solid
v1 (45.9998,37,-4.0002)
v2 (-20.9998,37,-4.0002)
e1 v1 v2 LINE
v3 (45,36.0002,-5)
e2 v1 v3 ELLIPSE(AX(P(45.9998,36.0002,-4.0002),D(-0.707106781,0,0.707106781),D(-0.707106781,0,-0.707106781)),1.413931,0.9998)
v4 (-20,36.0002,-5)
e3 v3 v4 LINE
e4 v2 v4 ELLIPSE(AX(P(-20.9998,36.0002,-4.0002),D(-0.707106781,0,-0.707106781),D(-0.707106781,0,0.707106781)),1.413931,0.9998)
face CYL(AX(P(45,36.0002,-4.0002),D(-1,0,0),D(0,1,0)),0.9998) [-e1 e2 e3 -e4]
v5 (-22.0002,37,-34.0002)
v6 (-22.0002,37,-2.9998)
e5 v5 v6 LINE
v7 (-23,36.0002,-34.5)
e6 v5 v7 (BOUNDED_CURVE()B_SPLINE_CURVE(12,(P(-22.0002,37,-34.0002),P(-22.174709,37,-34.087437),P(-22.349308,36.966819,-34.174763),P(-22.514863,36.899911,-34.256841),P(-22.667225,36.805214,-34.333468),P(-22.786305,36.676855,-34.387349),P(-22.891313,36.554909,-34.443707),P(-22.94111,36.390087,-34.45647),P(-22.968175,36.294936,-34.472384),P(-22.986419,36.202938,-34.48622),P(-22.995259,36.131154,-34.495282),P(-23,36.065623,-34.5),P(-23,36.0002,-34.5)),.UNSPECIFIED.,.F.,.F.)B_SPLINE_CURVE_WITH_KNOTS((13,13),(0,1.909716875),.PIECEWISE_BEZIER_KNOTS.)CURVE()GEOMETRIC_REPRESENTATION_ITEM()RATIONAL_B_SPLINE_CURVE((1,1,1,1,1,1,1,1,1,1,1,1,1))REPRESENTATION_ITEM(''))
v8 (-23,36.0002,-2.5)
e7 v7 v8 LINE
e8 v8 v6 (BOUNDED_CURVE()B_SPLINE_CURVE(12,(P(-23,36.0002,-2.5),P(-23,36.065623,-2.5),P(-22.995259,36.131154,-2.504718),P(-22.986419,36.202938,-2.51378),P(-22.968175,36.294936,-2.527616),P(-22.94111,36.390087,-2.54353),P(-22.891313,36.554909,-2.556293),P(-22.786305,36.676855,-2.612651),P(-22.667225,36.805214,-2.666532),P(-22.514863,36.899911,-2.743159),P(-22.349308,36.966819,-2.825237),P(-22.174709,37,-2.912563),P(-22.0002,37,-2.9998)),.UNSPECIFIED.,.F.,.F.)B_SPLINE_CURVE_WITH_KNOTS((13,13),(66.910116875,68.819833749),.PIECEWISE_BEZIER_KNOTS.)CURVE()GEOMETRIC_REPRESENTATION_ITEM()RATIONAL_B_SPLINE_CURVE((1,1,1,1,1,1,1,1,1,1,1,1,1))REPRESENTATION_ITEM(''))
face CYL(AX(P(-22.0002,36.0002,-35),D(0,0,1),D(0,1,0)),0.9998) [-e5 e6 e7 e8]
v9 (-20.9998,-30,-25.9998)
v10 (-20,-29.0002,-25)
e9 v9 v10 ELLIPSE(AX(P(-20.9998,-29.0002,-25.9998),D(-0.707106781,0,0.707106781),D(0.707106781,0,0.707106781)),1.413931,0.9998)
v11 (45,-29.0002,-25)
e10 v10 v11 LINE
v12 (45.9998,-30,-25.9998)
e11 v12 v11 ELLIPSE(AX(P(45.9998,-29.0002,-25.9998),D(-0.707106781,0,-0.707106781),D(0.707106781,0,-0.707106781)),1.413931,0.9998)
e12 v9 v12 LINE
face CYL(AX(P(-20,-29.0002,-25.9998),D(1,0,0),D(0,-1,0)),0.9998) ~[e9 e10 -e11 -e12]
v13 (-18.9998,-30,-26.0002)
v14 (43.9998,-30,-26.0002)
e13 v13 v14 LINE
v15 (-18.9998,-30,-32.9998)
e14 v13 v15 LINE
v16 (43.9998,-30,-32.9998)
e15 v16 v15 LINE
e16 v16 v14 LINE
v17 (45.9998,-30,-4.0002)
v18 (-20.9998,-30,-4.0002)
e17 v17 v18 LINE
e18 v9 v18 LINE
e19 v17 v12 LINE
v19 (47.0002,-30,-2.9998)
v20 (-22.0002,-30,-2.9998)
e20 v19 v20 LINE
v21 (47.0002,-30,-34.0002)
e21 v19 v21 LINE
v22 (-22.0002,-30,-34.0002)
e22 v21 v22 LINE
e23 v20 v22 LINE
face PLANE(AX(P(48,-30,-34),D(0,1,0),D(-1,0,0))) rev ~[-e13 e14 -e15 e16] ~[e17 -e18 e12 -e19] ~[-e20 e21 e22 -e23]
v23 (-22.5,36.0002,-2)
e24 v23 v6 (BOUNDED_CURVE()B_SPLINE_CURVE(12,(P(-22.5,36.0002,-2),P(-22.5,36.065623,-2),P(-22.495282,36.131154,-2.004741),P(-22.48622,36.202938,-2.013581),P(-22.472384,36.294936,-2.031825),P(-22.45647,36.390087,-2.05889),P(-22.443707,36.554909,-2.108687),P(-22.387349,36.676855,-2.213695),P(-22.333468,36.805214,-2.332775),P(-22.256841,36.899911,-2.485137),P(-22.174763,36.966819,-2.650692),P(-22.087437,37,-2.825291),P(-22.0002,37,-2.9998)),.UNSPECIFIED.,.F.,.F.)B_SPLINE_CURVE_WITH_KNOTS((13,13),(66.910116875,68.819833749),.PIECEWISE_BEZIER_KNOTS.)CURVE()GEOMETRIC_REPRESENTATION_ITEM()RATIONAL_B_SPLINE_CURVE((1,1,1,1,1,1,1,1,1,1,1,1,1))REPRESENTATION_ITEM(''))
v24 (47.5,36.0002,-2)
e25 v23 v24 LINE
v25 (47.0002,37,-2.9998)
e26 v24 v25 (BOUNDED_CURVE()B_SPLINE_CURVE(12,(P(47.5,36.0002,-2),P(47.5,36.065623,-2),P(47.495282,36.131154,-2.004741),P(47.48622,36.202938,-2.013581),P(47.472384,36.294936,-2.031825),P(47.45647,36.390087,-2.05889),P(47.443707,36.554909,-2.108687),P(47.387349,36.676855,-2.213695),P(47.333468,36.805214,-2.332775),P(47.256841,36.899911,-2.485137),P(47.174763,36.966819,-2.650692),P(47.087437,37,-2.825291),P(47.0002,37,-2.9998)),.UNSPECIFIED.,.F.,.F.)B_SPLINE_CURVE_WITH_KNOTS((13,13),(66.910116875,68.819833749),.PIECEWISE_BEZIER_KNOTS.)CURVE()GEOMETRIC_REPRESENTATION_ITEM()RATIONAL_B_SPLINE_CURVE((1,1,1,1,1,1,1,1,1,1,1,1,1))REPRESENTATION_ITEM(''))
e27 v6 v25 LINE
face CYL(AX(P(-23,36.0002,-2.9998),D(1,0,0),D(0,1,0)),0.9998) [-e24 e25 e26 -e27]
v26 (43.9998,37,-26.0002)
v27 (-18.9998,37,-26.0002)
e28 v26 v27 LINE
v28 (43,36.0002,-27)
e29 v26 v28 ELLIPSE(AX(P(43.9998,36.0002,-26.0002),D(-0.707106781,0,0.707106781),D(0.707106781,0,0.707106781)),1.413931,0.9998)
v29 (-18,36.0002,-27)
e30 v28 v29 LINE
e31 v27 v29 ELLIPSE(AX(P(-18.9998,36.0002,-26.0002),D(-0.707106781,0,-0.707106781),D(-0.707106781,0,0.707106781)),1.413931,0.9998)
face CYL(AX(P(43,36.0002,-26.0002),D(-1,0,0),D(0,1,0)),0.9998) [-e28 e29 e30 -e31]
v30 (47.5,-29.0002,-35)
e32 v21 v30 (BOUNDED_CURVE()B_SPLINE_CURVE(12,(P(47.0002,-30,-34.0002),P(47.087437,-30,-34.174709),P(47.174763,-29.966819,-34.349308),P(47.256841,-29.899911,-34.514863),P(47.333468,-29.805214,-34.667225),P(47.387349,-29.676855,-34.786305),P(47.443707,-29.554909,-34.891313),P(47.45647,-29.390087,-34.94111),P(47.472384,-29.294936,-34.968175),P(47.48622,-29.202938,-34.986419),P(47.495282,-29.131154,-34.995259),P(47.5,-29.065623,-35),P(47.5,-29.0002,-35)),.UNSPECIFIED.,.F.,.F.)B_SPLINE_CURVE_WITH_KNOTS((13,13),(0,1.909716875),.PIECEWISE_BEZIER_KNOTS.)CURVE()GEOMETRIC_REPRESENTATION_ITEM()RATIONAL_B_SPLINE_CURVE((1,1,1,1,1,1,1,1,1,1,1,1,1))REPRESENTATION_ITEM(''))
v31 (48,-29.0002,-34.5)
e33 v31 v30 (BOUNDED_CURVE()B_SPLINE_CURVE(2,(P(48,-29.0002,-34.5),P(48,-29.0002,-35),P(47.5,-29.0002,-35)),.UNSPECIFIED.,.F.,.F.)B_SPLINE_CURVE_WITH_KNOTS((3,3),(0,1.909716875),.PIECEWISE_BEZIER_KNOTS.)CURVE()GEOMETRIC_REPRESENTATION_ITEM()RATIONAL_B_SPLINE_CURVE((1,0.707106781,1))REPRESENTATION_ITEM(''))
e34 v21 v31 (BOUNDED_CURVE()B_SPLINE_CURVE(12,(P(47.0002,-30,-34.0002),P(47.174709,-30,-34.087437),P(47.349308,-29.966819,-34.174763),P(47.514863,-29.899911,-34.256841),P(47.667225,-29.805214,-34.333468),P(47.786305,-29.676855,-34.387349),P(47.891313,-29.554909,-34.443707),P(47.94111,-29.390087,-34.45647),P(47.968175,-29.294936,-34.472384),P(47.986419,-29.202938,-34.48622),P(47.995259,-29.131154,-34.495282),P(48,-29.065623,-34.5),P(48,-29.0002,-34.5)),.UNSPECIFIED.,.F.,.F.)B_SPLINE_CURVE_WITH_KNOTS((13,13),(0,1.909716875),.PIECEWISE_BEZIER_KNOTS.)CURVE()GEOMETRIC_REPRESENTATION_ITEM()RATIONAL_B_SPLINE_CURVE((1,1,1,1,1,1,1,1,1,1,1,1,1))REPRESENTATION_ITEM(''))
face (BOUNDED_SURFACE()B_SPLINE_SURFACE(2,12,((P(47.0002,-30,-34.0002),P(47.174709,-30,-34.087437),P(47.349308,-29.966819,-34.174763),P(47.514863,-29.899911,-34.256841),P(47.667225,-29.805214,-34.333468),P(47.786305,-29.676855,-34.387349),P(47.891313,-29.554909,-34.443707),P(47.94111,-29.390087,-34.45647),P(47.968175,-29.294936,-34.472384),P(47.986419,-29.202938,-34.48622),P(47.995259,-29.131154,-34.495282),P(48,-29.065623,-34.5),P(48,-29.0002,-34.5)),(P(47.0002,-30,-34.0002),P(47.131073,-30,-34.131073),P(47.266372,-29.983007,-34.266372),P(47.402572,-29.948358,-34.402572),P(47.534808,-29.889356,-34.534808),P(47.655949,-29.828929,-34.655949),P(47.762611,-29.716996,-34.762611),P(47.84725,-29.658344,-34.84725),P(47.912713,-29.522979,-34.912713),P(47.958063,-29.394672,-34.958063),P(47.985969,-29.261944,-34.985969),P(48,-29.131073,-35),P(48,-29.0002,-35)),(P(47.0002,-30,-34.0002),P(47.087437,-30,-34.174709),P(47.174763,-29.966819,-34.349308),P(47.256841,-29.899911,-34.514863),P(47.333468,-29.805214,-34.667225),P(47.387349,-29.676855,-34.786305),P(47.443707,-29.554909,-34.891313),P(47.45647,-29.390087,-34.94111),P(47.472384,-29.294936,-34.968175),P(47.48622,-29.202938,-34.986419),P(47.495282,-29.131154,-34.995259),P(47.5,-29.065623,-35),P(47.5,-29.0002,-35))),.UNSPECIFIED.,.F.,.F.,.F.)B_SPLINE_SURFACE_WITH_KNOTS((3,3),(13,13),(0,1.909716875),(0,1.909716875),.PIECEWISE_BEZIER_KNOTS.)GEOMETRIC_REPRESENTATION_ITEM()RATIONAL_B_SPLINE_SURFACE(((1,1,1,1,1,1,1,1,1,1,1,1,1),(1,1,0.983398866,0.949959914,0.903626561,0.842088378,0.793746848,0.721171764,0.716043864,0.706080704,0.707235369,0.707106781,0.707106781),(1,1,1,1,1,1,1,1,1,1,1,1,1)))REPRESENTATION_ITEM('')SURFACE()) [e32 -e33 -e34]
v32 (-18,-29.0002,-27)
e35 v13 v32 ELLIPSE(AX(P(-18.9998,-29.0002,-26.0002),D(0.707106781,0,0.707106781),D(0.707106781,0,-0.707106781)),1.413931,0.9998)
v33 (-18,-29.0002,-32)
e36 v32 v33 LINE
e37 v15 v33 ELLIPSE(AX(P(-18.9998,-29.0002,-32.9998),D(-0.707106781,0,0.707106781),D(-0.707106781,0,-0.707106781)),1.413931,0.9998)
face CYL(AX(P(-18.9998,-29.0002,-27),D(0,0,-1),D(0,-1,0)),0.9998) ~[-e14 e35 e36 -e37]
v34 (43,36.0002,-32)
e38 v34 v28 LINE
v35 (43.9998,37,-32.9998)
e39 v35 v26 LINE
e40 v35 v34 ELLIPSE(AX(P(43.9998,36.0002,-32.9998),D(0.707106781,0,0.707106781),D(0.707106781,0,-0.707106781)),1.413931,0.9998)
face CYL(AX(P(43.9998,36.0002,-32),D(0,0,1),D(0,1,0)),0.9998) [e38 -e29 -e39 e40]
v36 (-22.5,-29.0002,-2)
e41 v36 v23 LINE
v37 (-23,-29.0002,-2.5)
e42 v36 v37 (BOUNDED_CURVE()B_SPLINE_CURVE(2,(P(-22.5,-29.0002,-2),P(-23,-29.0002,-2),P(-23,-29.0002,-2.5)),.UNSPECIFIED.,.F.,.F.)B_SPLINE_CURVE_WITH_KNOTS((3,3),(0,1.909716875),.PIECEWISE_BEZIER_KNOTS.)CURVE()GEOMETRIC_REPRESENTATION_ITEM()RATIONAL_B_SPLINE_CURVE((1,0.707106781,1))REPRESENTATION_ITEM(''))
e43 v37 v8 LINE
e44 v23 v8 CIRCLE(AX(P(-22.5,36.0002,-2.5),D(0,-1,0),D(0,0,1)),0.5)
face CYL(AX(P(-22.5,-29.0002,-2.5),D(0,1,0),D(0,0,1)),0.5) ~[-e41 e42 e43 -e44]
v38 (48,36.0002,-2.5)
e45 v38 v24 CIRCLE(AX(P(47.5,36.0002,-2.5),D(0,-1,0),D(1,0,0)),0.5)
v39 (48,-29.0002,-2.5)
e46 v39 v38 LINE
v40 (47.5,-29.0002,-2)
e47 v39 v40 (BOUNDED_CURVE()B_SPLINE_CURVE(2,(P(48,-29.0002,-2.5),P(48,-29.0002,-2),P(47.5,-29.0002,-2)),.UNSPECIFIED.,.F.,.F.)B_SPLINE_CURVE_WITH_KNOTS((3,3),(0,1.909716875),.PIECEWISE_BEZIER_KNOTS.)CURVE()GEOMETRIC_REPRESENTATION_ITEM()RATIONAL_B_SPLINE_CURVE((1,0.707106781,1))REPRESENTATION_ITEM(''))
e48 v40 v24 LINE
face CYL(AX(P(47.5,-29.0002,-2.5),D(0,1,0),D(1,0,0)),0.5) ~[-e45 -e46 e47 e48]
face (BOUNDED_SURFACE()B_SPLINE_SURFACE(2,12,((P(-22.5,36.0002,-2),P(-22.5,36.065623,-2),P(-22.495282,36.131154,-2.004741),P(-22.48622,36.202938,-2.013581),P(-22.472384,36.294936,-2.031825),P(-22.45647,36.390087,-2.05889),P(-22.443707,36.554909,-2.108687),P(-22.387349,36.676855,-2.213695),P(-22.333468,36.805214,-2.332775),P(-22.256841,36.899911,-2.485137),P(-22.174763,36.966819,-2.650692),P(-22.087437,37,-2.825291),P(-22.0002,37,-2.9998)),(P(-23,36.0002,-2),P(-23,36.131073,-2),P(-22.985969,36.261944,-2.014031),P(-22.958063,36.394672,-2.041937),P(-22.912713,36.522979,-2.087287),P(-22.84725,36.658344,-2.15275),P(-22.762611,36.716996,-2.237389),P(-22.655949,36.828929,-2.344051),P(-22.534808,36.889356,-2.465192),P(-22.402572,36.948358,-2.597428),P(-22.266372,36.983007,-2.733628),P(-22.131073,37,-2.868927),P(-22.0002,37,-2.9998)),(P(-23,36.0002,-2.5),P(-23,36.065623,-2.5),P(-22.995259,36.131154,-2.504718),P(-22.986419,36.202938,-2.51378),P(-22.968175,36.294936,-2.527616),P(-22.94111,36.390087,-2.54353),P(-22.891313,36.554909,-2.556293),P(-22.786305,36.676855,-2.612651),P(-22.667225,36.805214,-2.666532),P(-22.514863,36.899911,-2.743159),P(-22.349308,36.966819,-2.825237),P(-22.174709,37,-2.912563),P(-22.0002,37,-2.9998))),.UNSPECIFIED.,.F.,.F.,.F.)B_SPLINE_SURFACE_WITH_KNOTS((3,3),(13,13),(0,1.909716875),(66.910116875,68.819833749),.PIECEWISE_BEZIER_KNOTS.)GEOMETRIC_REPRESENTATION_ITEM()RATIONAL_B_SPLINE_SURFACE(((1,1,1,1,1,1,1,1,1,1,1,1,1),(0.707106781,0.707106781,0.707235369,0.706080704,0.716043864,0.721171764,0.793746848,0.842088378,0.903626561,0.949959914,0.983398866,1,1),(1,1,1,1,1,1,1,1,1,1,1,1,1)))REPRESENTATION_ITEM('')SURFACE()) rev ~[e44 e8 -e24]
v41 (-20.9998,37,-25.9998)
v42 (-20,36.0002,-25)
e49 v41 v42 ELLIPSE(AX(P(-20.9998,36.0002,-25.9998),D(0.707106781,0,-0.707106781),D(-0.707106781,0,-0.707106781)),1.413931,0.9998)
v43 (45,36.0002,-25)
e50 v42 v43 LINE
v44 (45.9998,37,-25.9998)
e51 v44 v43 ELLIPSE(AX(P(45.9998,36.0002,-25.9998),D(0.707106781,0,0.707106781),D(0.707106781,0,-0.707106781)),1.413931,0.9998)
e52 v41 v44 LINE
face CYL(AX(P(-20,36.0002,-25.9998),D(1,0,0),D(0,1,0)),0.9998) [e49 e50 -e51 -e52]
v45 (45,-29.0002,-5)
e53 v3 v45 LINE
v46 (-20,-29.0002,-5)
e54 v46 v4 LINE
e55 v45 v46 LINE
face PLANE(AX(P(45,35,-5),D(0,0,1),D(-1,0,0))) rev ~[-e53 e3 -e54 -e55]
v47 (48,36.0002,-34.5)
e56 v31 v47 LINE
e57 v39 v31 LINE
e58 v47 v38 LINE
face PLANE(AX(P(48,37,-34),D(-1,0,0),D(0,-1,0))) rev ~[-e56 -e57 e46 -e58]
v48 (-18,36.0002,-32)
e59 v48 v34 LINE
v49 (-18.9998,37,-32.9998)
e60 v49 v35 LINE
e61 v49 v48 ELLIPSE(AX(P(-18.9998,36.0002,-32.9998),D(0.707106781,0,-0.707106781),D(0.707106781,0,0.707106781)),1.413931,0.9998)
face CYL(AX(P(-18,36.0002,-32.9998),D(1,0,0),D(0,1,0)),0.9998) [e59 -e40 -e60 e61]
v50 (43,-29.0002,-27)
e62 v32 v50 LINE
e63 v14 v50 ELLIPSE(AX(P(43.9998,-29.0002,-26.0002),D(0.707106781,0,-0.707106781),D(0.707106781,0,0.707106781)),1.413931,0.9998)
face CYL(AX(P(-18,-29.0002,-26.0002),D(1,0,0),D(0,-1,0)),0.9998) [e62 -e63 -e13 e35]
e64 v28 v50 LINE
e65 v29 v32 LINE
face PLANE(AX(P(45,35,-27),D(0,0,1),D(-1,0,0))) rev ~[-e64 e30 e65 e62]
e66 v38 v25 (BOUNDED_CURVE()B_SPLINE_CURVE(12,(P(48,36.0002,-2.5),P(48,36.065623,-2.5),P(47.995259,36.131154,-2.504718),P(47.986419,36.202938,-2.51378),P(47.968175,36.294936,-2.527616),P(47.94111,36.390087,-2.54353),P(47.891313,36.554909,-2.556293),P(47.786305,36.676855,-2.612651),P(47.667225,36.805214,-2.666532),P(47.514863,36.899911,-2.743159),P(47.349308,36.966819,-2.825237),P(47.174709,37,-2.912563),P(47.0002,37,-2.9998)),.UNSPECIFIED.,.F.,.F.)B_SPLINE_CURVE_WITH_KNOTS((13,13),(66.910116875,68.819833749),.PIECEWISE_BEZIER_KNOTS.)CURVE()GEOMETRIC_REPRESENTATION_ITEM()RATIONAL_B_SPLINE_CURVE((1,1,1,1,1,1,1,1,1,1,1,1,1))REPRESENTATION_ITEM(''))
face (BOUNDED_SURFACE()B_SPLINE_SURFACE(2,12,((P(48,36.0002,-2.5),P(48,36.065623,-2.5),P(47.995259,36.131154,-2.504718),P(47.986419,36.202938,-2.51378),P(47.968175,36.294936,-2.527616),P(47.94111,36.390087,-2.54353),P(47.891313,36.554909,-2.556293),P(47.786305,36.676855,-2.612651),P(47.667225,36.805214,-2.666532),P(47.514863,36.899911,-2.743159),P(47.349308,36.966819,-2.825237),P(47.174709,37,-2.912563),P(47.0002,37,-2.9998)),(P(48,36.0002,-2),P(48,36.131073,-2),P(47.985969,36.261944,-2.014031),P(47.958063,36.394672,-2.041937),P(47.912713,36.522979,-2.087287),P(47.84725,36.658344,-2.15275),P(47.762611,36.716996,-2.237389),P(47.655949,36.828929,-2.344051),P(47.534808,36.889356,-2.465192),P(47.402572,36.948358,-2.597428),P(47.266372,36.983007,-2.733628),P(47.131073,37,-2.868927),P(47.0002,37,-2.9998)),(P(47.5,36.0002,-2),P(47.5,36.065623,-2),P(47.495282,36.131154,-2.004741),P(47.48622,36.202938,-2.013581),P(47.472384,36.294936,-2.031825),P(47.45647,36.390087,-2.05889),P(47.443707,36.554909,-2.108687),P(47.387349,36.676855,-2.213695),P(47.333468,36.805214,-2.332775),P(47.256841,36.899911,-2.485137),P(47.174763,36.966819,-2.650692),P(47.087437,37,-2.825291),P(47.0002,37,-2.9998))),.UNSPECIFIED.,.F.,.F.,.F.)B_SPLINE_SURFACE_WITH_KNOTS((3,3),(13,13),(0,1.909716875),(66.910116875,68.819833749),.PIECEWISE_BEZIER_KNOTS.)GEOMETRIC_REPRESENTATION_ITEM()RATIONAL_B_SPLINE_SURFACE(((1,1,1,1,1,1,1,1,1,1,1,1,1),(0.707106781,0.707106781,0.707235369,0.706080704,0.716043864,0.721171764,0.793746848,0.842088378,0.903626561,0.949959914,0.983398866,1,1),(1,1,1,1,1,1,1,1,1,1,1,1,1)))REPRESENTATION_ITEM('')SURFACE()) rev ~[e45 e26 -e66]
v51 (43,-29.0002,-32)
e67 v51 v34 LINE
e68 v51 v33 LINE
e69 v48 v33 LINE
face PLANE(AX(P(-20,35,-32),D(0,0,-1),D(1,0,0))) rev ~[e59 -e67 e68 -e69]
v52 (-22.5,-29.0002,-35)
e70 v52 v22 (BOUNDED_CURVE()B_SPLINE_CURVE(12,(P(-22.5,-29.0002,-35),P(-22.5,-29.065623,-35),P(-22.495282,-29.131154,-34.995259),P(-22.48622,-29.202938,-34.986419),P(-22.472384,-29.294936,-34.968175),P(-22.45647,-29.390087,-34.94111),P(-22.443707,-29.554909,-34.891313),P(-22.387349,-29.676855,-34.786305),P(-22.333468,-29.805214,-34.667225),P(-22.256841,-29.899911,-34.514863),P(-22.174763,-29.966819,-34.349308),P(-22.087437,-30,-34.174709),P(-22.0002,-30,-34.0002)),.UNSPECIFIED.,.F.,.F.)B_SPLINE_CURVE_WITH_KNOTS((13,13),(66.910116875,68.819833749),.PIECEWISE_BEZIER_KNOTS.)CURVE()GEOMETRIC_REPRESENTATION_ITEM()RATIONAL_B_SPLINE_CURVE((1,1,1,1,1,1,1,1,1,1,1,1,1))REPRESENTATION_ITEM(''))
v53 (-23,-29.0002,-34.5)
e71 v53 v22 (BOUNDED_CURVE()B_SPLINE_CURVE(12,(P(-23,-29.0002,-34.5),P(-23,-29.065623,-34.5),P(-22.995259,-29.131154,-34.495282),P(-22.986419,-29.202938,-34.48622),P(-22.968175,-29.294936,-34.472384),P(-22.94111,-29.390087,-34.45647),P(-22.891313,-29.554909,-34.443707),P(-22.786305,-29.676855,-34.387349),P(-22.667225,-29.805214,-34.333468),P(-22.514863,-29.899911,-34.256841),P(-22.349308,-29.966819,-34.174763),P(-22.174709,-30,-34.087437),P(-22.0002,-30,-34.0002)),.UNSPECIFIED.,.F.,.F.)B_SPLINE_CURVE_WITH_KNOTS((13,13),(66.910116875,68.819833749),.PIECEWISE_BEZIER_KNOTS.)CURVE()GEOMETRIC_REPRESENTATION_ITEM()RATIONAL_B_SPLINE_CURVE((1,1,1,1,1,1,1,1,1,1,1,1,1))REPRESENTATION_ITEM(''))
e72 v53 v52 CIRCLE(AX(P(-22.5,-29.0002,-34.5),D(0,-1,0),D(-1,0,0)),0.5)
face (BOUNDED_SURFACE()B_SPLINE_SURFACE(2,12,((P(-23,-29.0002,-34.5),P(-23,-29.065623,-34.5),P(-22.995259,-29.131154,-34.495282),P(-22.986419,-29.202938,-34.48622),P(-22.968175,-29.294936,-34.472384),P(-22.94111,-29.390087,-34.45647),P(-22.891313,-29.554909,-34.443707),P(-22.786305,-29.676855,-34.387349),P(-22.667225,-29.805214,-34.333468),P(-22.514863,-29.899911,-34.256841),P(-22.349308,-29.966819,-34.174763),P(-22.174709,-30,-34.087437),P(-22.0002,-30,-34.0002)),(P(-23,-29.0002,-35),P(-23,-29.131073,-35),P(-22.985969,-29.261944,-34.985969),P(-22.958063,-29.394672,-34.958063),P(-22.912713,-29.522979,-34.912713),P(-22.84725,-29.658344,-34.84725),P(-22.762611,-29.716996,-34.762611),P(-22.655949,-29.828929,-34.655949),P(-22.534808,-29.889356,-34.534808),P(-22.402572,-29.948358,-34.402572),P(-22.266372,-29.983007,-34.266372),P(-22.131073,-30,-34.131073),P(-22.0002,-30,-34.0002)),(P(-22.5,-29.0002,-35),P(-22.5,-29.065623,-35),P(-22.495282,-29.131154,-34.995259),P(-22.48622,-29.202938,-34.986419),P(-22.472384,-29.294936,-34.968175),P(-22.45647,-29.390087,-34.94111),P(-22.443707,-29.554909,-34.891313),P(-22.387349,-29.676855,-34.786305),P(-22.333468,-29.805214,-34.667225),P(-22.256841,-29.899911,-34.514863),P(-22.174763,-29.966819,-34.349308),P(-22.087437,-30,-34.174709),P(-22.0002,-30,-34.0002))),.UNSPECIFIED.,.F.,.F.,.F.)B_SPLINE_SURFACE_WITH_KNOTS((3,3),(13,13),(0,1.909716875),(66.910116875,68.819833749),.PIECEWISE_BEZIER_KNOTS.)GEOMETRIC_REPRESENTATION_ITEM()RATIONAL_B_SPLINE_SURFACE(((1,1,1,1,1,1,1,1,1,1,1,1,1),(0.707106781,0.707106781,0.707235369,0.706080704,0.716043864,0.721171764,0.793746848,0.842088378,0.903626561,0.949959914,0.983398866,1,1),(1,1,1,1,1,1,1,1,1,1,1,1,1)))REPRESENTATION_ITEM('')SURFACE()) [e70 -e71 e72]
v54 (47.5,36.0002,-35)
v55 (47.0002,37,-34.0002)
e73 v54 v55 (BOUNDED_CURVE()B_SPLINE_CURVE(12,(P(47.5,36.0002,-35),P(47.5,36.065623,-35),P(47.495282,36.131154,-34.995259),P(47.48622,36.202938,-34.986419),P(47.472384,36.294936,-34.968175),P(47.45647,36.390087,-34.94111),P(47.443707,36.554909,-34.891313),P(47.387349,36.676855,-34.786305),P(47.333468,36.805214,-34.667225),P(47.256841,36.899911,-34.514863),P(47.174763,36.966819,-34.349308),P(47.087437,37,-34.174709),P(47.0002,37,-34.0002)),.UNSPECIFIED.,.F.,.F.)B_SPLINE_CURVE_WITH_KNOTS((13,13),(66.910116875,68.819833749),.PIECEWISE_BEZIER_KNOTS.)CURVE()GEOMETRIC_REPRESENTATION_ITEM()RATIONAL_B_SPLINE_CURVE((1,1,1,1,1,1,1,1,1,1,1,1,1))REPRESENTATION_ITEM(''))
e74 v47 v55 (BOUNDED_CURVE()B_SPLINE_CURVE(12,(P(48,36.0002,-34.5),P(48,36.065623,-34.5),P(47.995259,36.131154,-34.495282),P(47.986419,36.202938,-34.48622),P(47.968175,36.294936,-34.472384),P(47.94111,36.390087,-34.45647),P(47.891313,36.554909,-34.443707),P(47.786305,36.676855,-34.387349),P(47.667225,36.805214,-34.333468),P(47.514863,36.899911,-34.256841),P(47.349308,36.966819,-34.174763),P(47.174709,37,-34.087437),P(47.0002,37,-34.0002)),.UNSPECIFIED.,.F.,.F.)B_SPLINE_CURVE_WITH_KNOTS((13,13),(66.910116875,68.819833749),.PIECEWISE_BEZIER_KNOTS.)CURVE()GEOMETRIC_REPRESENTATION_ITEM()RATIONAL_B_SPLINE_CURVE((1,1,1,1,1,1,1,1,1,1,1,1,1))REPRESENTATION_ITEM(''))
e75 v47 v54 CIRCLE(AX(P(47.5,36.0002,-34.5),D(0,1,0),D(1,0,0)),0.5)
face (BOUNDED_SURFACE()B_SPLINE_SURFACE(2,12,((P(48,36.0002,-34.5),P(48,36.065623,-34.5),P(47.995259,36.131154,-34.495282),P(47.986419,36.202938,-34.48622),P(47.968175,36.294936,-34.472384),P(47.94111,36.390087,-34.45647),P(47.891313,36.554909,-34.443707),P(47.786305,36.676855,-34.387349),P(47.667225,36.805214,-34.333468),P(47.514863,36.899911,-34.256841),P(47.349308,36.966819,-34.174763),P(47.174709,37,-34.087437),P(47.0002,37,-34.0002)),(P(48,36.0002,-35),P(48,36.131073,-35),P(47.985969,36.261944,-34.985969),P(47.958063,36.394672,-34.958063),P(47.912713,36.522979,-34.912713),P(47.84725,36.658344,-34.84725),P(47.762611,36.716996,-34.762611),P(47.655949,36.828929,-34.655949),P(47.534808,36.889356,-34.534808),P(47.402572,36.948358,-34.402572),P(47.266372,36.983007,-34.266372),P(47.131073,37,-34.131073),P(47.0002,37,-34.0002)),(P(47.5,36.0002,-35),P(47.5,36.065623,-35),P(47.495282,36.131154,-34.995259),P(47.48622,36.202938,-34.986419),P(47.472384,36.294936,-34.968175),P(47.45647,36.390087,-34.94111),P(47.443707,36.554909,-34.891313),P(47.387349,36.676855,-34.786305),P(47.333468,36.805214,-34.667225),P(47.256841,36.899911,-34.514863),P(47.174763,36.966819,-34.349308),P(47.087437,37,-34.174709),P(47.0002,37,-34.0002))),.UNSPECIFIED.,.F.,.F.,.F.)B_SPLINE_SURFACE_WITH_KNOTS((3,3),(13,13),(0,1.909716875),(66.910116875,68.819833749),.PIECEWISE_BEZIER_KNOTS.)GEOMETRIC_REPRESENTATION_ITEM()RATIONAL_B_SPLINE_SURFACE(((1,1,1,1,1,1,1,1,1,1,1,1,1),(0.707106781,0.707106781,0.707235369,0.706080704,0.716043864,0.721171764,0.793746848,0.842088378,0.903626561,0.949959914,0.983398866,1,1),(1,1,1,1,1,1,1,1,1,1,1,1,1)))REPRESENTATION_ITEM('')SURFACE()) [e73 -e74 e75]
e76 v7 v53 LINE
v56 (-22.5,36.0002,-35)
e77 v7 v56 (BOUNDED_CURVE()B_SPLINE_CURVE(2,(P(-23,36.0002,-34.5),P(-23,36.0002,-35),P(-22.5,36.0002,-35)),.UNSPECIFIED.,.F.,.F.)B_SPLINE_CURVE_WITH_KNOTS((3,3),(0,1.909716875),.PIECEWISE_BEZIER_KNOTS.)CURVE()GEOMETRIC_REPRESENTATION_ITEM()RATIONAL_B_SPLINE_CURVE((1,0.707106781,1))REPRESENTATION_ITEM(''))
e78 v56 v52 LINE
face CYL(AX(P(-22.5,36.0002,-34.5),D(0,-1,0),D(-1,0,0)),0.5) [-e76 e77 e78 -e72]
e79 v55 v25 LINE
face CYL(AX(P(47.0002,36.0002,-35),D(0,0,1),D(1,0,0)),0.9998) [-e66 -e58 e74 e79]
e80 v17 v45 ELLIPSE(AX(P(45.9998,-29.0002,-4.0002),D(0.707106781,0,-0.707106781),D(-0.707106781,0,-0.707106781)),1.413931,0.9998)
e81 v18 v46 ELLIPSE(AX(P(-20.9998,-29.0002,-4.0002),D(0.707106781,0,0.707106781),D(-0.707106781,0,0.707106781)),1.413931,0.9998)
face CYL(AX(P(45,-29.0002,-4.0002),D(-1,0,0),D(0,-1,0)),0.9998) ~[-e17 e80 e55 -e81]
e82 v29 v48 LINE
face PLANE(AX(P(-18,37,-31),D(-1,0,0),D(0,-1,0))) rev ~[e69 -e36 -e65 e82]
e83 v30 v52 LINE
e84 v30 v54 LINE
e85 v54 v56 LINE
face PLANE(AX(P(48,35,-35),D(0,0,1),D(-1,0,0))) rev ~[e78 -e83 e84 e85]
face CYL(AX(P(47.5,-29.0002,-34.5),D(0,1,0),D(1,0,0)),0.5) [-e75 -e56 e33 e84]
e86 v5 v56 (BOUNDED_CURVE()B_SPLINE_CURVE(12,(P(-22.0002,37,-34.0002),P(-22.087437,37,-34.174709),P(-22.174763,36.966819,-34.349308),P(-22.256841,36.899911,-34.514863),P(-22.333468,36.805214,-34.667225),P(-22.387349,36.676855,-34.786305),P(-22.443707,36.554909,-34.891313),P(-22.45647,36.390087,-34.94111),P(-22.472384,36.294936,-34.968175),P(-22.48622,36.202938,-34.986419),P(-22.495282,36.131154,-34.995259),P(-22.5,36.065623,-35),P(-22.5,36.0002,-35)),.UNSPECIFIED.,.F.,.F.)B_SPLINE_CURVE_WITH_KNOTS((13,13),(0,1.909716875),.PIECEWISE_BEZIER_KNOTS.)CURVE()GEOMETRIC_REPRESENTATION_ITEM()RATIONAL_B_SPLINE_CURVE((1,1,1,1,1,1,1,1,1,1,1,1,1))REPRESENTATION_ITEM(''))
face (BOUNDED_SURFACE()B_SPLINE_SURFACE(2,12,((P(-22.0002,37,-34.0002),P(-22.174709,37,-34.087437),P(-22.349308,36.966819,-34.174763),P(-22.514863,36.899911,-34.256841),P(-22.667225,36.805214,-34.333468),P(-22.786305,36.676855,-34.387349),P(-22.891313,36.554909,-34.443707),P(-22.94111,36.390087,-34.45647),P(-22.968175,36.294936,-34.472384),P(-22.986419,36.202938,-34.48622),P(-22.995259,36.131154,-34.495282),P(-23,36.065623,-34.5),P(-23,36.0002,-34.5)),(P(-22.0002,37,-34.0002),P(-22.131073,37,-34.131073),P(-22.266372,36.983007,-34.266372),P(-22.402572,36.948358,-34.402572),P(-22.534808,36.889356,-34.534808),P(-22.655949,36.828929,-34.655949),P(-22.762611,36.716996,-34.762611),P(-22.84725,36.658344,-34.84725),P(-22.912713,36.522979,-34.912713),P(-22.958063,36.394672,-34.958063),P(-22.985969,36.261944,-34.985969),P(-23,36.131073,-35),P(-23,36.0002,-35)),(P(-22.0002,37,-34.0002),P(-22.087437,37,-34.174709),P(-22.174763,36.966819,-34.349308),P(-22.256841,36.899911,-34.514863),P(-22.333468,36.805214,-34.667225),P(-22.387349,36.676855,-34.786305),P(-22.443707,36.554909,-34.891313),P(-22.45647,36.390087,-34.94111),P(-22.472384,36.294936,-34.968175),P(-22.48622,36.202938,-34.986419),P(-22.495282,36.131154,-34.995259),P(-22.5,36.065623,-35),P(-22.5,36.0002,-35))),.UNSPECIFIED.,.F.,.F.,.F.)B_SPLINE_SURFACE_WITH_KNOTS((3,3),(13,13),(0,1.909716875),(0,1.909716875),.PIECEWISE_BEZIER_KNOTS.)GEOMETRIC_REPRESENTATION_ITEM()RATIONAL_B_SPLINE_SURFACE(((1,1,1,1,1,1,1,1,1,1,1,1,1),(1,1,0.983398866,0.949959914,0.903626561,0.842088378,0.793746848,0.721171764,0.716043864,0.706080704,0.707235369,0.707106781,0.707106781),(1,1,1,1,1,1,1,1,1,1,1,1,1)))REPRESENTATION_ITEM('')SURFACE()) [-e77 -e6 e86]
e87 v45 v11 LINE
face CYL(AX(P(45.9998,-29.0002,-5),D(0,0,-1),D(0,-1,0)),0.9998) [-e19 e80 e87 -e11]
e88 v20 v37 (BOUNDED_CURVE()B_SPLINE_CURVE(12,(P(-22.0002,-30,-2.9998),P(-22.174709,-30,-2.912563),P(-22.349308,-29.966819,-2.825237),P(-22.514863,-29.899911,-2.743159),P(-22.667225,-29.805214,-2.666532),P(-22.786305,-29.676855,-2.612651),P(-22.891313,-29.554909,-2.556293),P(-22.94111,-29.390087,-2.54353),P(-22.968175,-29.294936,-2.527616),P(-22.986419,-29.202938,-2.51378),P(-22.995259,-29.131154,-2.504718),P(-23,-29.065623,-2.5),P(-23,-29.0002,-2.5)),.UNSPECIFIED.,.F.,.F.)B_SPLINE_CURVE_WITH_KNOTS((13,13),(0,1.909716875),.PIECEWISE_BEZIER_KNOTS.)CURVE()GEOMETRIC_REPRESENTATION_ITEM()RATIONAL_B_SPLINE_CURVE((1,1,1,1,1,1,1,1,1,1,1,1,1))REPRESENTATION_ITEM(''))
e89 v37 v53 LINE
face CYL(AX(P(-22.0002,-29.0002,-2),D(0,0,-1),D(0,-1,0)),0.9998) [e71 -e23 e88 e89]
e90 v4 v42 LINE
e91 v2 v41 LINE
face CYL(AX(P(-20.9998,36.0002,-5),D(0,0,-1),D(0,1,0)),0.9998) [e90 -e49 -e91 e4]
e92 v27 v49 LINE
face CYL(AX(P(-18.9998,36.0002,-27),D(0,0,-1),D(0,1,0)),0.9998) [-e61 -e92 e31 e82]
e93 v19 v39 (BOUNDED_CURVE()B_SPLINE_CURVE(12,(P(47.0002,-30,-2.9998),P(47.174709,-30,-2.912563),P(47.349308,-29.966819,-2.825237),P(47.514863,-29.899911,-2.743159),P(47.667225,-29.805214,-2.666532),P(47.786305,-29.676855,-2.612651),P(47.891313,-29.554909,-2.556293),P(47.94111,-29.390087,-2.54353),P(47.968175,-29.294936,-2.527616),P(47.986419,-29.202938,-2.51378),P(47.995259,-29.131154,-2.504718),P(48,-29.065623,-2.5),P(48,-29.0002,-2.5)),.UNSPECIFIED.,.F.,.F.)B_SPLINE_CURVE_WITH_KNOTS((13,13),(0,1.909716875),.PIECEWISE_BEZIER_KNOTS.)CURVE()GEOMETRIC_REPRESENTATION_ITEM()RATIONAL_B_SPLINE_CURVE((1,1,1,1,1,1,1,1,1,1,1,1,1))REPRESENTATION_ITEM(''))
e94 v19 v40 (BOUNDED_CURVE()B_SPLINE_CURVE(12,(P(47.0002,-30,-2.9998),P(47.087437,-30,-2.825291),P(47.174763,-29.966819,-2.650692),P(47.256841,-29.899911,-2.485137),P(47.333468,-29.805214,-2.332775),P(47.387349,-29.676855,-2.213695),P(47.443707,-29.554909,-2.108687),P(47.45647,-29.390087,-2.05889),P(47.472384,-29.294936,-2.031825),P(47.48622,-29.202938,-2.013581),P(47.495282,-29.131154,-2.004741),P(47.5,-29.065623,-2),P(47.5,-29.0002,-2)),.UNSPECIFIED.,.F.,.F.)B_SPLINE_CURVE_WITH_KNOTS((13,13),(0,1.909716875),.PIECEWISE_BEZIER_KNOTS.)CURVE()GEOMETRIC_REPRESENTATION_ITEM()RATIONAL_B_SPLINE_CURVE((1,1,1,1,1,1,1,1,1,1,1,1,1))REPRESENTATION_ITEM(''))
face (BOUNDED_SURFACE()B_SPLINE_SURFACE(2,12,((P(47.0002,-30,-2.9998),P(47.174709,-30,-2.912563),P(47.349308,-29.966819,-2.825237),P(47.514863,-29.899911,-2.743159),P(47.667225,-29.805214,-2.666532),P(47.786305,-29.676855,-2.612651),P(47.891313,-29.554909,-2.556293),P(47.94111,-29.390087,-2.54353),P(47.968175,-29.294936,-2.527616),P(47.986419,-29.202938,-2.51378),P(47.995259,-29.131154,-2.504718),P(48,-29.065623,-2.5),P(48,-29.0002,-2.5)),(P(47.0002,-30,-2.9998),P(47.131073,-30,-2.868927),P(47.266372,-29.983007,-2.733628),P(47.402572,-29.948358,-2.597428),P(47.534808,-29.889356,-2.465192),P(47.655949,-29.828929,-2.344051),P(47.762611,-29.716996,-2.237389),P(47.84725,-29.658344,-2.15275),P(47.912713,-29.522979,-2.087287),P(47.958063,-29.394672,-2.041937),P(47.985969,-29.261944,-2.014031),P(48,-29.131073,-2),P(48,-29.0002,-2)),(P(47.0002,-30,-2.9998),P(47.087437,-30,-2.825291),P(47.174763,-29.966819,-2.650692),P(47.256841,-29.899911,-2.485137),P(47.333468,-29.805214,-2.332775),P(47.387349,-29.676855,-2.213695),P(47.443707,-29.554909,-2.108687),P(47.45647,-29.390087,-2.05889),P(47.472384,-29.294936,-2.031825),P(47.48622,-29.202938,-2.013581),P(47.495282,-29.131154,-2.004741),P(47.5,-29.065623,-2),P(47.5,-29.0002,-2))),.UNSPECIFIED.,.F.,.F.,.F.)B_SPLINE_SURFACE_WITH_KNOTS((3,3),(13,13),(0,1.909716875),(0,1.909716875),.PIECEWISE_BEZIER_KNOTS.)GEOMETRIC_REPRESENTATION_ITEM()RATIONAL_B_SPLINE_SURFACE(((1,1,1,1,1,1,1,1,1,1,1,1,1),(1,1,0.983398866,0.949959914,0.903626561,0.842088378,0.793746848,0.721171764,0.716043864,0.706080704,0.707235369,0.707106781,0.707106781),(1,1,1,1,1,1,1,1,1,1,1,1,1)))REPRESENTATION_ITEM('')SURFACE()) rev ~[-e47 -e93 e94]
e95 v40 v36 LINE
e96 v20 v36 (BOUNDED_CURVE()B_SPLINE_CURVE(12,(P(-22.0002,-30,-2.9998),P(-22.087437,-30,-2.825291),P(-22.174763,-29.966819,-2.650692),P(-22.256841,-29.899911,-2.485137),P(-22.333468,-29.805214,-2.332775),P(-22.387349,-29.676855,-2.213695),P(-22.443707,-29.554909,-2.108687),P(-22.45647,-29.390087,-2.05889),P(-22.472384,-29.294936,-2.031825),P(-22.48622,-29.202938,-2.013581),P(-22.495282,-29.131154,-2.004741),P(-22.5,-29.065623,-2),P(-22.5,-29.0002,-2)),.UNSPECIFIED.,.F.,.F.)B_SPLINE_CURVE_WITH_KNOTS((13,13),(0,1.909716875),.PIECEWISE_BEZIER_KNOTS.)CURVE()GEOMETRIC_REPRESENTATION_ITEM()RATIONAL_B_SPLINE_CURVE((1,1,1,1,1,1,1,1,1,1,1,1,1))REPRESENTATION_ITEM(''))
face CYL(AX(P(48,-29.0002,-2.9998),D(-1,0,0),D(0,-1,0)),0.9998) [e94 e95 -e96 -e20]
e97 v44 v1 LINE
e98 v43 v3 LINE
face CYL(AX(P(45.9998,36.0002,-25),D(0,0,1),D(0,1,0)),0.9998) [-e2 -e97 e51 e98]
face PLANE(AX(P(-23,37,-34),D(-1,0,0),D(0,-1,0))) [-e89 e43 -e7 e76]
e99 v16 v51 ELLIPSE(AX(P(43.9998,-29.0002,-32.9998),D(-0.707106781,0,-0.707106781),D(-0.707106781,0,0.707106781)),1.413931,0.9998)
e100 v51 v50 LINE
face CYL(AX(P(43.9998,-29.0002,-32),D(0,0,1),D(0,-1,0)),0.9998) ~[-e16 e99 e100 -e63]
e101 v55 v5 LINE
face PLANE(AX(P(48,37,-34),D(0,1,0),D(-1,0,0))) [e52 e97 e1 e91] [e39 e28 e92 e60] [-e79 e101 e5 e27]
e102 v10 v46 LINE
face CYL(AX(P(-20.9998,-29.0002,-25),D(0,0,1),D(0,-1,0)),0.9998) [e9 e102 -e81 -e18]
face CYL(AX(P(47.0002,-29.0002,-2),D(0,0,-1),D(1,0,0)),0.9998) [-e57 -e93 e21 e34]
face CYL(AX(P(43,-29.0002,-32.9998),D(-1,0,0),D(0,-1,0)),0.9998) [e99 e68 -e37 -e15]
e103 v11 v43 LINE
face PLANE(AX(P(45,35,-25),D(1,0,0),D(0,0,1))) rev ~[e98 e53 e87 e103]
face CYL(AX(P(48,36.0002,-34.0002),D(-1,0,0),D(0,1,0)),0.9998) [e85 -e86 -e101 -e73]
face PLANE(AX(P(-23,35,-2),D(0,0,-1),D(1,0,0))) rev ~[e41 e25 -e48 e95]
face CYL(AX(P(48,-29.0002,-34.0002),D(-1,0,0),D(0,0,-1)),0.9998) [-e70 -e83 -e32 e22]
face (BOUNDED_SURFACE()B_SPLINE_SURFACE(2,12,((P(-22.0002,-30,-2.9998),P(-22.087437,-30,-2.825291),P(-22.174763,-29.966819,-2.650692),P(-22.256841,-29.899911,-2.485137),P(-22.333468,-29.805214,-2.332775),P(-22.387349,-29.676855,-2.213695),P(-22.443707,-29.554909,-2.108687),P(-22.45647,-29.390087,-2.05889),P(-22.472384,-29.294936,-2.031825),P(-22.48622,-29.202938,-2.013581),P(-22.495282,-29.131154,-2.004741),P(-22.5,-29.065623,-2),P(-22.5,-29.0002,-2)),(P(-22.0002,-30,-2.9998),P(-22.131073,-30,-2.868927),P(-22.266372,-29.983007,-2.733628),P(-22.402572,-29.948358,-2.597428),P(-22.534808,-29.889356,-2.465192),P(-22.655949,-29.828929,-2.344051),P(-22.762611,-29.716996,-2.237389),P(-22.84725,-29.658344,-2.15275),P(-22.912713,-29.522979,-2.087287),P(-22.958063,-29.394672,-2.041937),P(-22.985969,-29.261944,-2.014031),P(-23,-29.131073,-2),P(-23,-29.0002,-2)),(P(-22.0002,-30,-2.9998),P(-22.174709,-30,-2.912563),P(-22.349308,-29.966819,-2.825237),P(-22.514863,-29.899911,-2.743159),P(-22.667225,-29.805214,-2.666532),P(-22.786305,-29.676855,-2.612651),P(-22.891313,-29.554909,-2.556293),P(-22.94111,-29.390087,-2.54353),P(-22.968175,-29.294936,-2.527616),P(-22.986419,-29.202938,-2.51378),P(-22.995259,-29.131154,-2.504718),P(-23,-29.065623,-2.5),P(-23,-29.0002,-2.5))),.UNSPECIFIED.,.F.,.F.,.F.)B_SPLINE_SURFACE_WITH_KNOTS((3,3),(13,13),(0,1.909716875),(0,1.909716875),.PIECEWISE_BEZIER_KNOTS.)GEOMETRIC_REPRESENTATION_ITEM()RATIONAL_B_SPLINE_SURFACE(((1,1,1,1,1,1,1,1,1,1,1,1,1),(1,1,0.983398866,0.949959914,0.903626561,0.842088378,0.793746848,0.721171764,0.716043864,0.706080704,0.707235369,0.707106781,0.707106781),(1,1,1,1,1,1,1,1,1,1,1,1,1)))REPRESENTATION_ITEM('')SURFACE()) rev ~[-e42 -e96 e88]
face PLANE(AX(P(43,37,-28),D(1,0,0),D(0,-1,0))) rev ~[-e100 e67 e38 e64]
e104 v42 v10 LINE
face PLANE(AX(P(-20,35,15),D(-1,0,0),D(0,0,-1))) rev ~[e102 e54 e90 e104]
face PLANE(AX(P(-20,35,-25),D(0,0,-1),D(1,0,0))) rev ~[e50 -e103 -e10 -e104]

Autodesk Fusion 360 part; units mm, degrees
sketch "Sketch1" plane through (0, 0, 0) normal (0, 0, 1) x (1, 0, 0)
  line L0 (-25, 25) -> (35, 25)
  line L1 (35, 25) -> (35, -27)
  line L2 (35, -27) -> (-25, -27)
  line L3 (-25, -27) -> (-25, 25)
  dimension "d1" = 60
  dimension "d2" = 52
extrude "Extrude1" add sketch "Sketch1" along normal blind 35
extrude "Extrude2" add 1 faces at (-5, 25, 11.6667) along direction (0, 1, 0) blind 5
extrude "Extrude3" add 1 faces at (15, -27, 11.6667) along direction (0, -1, 0) blind 3
extrude "Extrude4" add 1 faces at (35, 10, 11.6667) along direction (1, 0, 0) blind 15
sketch "Sketch2" plane through (0, 30, 0) normal (0, 1, 0) x (-1, 0, 0)
  line L0 (-50, 0) -> (25, 0)
  line L1 (25, 0) -> (25, 35)
  line L2 (25, 35) -> (-50, 35)
  line L3 (-50, 35) -> (-50, 0)
  line L4 (-45, 30) -> (-45, -21)
  line L5 (-45, -21) -> (20, -21)
  line L6 (20, -21) -> (20, 30)
  line L7 (20, 30) -> (-45, 30)
  dimension "d11" = 51
  dimension "d12" = 65
extrude "Extrude5" add 1 faces at (0, -10, 0) along direction (0, 0, -1) blind 30
extrude "Extrude6" cut sketch "Sketch2" against normal blind 59 contours L0 L4 L6 L7
extrude "Extrude7" cut 1 faces at (23.3333, 10.3333, 0) along direction (0, 0, -1) blind 25
extrude "Extrude8" add 1 faces at (0, -10, -30) along direction (0, 0, -1) blind 6
extrude "Extrude9" cut 1 faces at (50, -10, 11.3333) along direction (-1, 0, 0) blind 2
extrude "Extrude10" cut 1 faces at (-25, 10, -12.3333) along direction (1, 0, 0) blind 2
extrude "Extrude11" cut 1 faces at (0.6667, 10, 35) along direction (0, 0, -1) blind 2
extrude "Extrude12" cut 1 faces at (0.6667, -10, -36) along direction (0, 0, 1) blind 3
sketch "Sketch6" plane through (0, 0, 0) normal (0, 1, 0) x (1, 0, 0)
  line L0 (43, 25) -> (43, 28)
  line L1 (45, 28) -> (-20, 28)
  line L2 (-20, 28) -> (-20, 30)
  line L3 (-20, 30) -> (45, 30)
  line L4 (45, 30) -> (45, 28)
  line L5 (30, 30) -> (30, 33)
  dimension "d31" = 3
extrude "Extrude13" cut sketch "Sketch6" along normal blind 30 and the other way blind 38
extrude "Extrude14" add 1 faces at (23.3333, -29, 11.6667) along direction (0, 1, 0) blind 2
sketch "Sketch7" plane through (0, 0, 0) normal (0, 1, 0) x (1, 0, 0)
sketch "Sketch8" plane through (0, 0, 0) normal (0, 1, 0) x (1, 0, 0)
  line L0 (45, 5) -> (-20, 5)
  line L1 (-20, 5) -> (-20, 25)
  line L2 (-20, 25) -> (45, 25)
  line L3 (45, 25) -> (45, 5)
extrude "Extrude15" cut sketch "Sketch8" against normal blind 68
extrude "Extrude16" add 1 faces at (1.6667, 11, 30) along direction (0, 0, -1) blind 10
extrude "Extrude17" cut 1 faces at (0.6667, 10, 33) along direction (0, 0, -1) blind 10
extrude "Extrude18" add 1 faces at (1.6667, 11, 20) along direction (0, 0, -1) blind 0.5
extrude "Extrude19" cut 1 faces at (0.6667, 10, 23) along direction (0, 0, -1) blind 0.5
extrude "Extrude20" add 1 faces at (1.6667, 11, 19.5) along direction (0, 0, -1) blind 1.5
extrude "Extrude21" cut 1 faces at (0.6667, 10, 22.5) along direction (0, 0, -1) blind 0.5
sketch "Sketch9" plane through (0, 0, 0) normal (0, 1, 0) x (1, 0, 0)
extrude "Extrude22" cut 1 faces at (0.6667, 10, 22) along direction (0, 0, -1) blind 1
extrude "Extrude23" add 1 faces at (1.6667, 11, 18) along direction (0, 0, -1) blind 3
extrude "Extrude24" cut 1 faces at (0.6667, 10, 21) along direction (0, 0, -1) blind 3
sketch "Sketch10" plane through (0, 0, 0) normal (0, 1, 0) x (1, 0, 0)
extrude "Extrude25" add 1 faces at (23.3333, -29, -5) along direction (0, 0, -1) blind 8
extrude "Extrude26" add 1 faces at (-22, 30, -13.3333) along direction (0, 1, 0) blind 5
sketch "Sketch11" plane through (0, 35, 0) normal (0, 1, 0) x (-1, 0, 0)
  line L0 (23, 18) -> (-48, 18)
  line L1 (-48, 18) -> (-48, -33)
  line L2 (-48, -33) -> (23, -33)
  line L3 (23, -33) -> (23, 18)
  line L4 (-45, -30) -> (-45, -28)
  line L5 (-45, -28) -> (20, -28)
  line L6 (20, -28) -> (20, -30)
  line L7 (20, -30) -> (-45, -30)
  line L8 (-45, -25) -> (-45, 15)
  line L9 (-45, 15) -> (20, 15)
  line L10 (20, 15) -> (20, -25)
  line L11 (20, -25) -> (-45, -25)
extrude "Extrude27" add sketch "Sketch11" along normal blind 2
extrude "Extrude28" cut 1 faces at (23.3333, -29, -13) along direction (0, 0, 1) blind 5
extrude "Extrude29" cut 1 faces at (23.3333, -29, -8) along direction (0, 0, 1) blind 3
extrude "Extrude30" add 1 faces at (23.3333, -5.6667, 15) along direction (0, 0, -1) blind 15
extrude "Extrude31" cut 1 faces at (24.3333, 14.6667, 18) along direction (0, 0, -1) blind 15
extrude "Extrude32" add 1 faces at (23.3333, -5.6667, 0) along direction (0, 0, -1) blind 5
extrude "Extrude33" cut 1 faces at (24.3333, 14.6667, 3) along direction (0, 0, -1) blind 5
extrude "Extrude34" add 1 faces at (45, 14.6667, -28.6667) along direction (-1, 0, 0) blind 2
extrude "Extrude35" add 1 faces at (-20, -7.6667, -28.6667) along direction (1, 0, 0) blind 2
extrude "Extrude36" cut 1 faces at (22.6667, -7.6667, -28) along direction (0, 0, 1) blind 1
extrude "Extrude37" cut 1 faces at (2.3333, -7.6667, -30) along direction (0, 0, -1) blind 1
extrude "Extrude38" cut 1 faces at (2.3333, -7.6667, -31) along direction (0, 0, -1) blind 1
extrude "Extrude39" add 1 faces at (24.3333, -7.6667, -33) along direction (0, 0, -1) blind 1
extrude "Extrude40" add 1 faces at (24.3333, -7.6667, -34) along direction (0, 0, -1) blind 1
fillet "Fillet1" radius 1 1 faces at (-20.3333, 37, -30.6667)
fillet "Fillet2" radius 1 1 faces at (-20.3333, -30, -30.6667)
fillet "Fillet4" radius 0.5 3 edges at (47.7071, 36.7071, -2.2929) (48, 3.5, -2) (47.7071, -29.7071, -2.2929)
fillet "Fillet5" radius 0.5 3 edges at (47.7071, 36.7071, -34.7071) (48, 3.5, -35) (47.7071, -29.7071, -34.7071)
fillet "Fillet6" radius 0.5 3 edges at (-22.7071, -29.7071, -2.2929) (-23, 3.5, -2) (-22.7071, 36.7071, -2.2929)
fillet "Fillet7" radius 0.5 3 edges at (-22.7071, -29.7071, -34.7071) (-23, 3.5, -35) (-22.7071, 36.7071, -34.7071)
